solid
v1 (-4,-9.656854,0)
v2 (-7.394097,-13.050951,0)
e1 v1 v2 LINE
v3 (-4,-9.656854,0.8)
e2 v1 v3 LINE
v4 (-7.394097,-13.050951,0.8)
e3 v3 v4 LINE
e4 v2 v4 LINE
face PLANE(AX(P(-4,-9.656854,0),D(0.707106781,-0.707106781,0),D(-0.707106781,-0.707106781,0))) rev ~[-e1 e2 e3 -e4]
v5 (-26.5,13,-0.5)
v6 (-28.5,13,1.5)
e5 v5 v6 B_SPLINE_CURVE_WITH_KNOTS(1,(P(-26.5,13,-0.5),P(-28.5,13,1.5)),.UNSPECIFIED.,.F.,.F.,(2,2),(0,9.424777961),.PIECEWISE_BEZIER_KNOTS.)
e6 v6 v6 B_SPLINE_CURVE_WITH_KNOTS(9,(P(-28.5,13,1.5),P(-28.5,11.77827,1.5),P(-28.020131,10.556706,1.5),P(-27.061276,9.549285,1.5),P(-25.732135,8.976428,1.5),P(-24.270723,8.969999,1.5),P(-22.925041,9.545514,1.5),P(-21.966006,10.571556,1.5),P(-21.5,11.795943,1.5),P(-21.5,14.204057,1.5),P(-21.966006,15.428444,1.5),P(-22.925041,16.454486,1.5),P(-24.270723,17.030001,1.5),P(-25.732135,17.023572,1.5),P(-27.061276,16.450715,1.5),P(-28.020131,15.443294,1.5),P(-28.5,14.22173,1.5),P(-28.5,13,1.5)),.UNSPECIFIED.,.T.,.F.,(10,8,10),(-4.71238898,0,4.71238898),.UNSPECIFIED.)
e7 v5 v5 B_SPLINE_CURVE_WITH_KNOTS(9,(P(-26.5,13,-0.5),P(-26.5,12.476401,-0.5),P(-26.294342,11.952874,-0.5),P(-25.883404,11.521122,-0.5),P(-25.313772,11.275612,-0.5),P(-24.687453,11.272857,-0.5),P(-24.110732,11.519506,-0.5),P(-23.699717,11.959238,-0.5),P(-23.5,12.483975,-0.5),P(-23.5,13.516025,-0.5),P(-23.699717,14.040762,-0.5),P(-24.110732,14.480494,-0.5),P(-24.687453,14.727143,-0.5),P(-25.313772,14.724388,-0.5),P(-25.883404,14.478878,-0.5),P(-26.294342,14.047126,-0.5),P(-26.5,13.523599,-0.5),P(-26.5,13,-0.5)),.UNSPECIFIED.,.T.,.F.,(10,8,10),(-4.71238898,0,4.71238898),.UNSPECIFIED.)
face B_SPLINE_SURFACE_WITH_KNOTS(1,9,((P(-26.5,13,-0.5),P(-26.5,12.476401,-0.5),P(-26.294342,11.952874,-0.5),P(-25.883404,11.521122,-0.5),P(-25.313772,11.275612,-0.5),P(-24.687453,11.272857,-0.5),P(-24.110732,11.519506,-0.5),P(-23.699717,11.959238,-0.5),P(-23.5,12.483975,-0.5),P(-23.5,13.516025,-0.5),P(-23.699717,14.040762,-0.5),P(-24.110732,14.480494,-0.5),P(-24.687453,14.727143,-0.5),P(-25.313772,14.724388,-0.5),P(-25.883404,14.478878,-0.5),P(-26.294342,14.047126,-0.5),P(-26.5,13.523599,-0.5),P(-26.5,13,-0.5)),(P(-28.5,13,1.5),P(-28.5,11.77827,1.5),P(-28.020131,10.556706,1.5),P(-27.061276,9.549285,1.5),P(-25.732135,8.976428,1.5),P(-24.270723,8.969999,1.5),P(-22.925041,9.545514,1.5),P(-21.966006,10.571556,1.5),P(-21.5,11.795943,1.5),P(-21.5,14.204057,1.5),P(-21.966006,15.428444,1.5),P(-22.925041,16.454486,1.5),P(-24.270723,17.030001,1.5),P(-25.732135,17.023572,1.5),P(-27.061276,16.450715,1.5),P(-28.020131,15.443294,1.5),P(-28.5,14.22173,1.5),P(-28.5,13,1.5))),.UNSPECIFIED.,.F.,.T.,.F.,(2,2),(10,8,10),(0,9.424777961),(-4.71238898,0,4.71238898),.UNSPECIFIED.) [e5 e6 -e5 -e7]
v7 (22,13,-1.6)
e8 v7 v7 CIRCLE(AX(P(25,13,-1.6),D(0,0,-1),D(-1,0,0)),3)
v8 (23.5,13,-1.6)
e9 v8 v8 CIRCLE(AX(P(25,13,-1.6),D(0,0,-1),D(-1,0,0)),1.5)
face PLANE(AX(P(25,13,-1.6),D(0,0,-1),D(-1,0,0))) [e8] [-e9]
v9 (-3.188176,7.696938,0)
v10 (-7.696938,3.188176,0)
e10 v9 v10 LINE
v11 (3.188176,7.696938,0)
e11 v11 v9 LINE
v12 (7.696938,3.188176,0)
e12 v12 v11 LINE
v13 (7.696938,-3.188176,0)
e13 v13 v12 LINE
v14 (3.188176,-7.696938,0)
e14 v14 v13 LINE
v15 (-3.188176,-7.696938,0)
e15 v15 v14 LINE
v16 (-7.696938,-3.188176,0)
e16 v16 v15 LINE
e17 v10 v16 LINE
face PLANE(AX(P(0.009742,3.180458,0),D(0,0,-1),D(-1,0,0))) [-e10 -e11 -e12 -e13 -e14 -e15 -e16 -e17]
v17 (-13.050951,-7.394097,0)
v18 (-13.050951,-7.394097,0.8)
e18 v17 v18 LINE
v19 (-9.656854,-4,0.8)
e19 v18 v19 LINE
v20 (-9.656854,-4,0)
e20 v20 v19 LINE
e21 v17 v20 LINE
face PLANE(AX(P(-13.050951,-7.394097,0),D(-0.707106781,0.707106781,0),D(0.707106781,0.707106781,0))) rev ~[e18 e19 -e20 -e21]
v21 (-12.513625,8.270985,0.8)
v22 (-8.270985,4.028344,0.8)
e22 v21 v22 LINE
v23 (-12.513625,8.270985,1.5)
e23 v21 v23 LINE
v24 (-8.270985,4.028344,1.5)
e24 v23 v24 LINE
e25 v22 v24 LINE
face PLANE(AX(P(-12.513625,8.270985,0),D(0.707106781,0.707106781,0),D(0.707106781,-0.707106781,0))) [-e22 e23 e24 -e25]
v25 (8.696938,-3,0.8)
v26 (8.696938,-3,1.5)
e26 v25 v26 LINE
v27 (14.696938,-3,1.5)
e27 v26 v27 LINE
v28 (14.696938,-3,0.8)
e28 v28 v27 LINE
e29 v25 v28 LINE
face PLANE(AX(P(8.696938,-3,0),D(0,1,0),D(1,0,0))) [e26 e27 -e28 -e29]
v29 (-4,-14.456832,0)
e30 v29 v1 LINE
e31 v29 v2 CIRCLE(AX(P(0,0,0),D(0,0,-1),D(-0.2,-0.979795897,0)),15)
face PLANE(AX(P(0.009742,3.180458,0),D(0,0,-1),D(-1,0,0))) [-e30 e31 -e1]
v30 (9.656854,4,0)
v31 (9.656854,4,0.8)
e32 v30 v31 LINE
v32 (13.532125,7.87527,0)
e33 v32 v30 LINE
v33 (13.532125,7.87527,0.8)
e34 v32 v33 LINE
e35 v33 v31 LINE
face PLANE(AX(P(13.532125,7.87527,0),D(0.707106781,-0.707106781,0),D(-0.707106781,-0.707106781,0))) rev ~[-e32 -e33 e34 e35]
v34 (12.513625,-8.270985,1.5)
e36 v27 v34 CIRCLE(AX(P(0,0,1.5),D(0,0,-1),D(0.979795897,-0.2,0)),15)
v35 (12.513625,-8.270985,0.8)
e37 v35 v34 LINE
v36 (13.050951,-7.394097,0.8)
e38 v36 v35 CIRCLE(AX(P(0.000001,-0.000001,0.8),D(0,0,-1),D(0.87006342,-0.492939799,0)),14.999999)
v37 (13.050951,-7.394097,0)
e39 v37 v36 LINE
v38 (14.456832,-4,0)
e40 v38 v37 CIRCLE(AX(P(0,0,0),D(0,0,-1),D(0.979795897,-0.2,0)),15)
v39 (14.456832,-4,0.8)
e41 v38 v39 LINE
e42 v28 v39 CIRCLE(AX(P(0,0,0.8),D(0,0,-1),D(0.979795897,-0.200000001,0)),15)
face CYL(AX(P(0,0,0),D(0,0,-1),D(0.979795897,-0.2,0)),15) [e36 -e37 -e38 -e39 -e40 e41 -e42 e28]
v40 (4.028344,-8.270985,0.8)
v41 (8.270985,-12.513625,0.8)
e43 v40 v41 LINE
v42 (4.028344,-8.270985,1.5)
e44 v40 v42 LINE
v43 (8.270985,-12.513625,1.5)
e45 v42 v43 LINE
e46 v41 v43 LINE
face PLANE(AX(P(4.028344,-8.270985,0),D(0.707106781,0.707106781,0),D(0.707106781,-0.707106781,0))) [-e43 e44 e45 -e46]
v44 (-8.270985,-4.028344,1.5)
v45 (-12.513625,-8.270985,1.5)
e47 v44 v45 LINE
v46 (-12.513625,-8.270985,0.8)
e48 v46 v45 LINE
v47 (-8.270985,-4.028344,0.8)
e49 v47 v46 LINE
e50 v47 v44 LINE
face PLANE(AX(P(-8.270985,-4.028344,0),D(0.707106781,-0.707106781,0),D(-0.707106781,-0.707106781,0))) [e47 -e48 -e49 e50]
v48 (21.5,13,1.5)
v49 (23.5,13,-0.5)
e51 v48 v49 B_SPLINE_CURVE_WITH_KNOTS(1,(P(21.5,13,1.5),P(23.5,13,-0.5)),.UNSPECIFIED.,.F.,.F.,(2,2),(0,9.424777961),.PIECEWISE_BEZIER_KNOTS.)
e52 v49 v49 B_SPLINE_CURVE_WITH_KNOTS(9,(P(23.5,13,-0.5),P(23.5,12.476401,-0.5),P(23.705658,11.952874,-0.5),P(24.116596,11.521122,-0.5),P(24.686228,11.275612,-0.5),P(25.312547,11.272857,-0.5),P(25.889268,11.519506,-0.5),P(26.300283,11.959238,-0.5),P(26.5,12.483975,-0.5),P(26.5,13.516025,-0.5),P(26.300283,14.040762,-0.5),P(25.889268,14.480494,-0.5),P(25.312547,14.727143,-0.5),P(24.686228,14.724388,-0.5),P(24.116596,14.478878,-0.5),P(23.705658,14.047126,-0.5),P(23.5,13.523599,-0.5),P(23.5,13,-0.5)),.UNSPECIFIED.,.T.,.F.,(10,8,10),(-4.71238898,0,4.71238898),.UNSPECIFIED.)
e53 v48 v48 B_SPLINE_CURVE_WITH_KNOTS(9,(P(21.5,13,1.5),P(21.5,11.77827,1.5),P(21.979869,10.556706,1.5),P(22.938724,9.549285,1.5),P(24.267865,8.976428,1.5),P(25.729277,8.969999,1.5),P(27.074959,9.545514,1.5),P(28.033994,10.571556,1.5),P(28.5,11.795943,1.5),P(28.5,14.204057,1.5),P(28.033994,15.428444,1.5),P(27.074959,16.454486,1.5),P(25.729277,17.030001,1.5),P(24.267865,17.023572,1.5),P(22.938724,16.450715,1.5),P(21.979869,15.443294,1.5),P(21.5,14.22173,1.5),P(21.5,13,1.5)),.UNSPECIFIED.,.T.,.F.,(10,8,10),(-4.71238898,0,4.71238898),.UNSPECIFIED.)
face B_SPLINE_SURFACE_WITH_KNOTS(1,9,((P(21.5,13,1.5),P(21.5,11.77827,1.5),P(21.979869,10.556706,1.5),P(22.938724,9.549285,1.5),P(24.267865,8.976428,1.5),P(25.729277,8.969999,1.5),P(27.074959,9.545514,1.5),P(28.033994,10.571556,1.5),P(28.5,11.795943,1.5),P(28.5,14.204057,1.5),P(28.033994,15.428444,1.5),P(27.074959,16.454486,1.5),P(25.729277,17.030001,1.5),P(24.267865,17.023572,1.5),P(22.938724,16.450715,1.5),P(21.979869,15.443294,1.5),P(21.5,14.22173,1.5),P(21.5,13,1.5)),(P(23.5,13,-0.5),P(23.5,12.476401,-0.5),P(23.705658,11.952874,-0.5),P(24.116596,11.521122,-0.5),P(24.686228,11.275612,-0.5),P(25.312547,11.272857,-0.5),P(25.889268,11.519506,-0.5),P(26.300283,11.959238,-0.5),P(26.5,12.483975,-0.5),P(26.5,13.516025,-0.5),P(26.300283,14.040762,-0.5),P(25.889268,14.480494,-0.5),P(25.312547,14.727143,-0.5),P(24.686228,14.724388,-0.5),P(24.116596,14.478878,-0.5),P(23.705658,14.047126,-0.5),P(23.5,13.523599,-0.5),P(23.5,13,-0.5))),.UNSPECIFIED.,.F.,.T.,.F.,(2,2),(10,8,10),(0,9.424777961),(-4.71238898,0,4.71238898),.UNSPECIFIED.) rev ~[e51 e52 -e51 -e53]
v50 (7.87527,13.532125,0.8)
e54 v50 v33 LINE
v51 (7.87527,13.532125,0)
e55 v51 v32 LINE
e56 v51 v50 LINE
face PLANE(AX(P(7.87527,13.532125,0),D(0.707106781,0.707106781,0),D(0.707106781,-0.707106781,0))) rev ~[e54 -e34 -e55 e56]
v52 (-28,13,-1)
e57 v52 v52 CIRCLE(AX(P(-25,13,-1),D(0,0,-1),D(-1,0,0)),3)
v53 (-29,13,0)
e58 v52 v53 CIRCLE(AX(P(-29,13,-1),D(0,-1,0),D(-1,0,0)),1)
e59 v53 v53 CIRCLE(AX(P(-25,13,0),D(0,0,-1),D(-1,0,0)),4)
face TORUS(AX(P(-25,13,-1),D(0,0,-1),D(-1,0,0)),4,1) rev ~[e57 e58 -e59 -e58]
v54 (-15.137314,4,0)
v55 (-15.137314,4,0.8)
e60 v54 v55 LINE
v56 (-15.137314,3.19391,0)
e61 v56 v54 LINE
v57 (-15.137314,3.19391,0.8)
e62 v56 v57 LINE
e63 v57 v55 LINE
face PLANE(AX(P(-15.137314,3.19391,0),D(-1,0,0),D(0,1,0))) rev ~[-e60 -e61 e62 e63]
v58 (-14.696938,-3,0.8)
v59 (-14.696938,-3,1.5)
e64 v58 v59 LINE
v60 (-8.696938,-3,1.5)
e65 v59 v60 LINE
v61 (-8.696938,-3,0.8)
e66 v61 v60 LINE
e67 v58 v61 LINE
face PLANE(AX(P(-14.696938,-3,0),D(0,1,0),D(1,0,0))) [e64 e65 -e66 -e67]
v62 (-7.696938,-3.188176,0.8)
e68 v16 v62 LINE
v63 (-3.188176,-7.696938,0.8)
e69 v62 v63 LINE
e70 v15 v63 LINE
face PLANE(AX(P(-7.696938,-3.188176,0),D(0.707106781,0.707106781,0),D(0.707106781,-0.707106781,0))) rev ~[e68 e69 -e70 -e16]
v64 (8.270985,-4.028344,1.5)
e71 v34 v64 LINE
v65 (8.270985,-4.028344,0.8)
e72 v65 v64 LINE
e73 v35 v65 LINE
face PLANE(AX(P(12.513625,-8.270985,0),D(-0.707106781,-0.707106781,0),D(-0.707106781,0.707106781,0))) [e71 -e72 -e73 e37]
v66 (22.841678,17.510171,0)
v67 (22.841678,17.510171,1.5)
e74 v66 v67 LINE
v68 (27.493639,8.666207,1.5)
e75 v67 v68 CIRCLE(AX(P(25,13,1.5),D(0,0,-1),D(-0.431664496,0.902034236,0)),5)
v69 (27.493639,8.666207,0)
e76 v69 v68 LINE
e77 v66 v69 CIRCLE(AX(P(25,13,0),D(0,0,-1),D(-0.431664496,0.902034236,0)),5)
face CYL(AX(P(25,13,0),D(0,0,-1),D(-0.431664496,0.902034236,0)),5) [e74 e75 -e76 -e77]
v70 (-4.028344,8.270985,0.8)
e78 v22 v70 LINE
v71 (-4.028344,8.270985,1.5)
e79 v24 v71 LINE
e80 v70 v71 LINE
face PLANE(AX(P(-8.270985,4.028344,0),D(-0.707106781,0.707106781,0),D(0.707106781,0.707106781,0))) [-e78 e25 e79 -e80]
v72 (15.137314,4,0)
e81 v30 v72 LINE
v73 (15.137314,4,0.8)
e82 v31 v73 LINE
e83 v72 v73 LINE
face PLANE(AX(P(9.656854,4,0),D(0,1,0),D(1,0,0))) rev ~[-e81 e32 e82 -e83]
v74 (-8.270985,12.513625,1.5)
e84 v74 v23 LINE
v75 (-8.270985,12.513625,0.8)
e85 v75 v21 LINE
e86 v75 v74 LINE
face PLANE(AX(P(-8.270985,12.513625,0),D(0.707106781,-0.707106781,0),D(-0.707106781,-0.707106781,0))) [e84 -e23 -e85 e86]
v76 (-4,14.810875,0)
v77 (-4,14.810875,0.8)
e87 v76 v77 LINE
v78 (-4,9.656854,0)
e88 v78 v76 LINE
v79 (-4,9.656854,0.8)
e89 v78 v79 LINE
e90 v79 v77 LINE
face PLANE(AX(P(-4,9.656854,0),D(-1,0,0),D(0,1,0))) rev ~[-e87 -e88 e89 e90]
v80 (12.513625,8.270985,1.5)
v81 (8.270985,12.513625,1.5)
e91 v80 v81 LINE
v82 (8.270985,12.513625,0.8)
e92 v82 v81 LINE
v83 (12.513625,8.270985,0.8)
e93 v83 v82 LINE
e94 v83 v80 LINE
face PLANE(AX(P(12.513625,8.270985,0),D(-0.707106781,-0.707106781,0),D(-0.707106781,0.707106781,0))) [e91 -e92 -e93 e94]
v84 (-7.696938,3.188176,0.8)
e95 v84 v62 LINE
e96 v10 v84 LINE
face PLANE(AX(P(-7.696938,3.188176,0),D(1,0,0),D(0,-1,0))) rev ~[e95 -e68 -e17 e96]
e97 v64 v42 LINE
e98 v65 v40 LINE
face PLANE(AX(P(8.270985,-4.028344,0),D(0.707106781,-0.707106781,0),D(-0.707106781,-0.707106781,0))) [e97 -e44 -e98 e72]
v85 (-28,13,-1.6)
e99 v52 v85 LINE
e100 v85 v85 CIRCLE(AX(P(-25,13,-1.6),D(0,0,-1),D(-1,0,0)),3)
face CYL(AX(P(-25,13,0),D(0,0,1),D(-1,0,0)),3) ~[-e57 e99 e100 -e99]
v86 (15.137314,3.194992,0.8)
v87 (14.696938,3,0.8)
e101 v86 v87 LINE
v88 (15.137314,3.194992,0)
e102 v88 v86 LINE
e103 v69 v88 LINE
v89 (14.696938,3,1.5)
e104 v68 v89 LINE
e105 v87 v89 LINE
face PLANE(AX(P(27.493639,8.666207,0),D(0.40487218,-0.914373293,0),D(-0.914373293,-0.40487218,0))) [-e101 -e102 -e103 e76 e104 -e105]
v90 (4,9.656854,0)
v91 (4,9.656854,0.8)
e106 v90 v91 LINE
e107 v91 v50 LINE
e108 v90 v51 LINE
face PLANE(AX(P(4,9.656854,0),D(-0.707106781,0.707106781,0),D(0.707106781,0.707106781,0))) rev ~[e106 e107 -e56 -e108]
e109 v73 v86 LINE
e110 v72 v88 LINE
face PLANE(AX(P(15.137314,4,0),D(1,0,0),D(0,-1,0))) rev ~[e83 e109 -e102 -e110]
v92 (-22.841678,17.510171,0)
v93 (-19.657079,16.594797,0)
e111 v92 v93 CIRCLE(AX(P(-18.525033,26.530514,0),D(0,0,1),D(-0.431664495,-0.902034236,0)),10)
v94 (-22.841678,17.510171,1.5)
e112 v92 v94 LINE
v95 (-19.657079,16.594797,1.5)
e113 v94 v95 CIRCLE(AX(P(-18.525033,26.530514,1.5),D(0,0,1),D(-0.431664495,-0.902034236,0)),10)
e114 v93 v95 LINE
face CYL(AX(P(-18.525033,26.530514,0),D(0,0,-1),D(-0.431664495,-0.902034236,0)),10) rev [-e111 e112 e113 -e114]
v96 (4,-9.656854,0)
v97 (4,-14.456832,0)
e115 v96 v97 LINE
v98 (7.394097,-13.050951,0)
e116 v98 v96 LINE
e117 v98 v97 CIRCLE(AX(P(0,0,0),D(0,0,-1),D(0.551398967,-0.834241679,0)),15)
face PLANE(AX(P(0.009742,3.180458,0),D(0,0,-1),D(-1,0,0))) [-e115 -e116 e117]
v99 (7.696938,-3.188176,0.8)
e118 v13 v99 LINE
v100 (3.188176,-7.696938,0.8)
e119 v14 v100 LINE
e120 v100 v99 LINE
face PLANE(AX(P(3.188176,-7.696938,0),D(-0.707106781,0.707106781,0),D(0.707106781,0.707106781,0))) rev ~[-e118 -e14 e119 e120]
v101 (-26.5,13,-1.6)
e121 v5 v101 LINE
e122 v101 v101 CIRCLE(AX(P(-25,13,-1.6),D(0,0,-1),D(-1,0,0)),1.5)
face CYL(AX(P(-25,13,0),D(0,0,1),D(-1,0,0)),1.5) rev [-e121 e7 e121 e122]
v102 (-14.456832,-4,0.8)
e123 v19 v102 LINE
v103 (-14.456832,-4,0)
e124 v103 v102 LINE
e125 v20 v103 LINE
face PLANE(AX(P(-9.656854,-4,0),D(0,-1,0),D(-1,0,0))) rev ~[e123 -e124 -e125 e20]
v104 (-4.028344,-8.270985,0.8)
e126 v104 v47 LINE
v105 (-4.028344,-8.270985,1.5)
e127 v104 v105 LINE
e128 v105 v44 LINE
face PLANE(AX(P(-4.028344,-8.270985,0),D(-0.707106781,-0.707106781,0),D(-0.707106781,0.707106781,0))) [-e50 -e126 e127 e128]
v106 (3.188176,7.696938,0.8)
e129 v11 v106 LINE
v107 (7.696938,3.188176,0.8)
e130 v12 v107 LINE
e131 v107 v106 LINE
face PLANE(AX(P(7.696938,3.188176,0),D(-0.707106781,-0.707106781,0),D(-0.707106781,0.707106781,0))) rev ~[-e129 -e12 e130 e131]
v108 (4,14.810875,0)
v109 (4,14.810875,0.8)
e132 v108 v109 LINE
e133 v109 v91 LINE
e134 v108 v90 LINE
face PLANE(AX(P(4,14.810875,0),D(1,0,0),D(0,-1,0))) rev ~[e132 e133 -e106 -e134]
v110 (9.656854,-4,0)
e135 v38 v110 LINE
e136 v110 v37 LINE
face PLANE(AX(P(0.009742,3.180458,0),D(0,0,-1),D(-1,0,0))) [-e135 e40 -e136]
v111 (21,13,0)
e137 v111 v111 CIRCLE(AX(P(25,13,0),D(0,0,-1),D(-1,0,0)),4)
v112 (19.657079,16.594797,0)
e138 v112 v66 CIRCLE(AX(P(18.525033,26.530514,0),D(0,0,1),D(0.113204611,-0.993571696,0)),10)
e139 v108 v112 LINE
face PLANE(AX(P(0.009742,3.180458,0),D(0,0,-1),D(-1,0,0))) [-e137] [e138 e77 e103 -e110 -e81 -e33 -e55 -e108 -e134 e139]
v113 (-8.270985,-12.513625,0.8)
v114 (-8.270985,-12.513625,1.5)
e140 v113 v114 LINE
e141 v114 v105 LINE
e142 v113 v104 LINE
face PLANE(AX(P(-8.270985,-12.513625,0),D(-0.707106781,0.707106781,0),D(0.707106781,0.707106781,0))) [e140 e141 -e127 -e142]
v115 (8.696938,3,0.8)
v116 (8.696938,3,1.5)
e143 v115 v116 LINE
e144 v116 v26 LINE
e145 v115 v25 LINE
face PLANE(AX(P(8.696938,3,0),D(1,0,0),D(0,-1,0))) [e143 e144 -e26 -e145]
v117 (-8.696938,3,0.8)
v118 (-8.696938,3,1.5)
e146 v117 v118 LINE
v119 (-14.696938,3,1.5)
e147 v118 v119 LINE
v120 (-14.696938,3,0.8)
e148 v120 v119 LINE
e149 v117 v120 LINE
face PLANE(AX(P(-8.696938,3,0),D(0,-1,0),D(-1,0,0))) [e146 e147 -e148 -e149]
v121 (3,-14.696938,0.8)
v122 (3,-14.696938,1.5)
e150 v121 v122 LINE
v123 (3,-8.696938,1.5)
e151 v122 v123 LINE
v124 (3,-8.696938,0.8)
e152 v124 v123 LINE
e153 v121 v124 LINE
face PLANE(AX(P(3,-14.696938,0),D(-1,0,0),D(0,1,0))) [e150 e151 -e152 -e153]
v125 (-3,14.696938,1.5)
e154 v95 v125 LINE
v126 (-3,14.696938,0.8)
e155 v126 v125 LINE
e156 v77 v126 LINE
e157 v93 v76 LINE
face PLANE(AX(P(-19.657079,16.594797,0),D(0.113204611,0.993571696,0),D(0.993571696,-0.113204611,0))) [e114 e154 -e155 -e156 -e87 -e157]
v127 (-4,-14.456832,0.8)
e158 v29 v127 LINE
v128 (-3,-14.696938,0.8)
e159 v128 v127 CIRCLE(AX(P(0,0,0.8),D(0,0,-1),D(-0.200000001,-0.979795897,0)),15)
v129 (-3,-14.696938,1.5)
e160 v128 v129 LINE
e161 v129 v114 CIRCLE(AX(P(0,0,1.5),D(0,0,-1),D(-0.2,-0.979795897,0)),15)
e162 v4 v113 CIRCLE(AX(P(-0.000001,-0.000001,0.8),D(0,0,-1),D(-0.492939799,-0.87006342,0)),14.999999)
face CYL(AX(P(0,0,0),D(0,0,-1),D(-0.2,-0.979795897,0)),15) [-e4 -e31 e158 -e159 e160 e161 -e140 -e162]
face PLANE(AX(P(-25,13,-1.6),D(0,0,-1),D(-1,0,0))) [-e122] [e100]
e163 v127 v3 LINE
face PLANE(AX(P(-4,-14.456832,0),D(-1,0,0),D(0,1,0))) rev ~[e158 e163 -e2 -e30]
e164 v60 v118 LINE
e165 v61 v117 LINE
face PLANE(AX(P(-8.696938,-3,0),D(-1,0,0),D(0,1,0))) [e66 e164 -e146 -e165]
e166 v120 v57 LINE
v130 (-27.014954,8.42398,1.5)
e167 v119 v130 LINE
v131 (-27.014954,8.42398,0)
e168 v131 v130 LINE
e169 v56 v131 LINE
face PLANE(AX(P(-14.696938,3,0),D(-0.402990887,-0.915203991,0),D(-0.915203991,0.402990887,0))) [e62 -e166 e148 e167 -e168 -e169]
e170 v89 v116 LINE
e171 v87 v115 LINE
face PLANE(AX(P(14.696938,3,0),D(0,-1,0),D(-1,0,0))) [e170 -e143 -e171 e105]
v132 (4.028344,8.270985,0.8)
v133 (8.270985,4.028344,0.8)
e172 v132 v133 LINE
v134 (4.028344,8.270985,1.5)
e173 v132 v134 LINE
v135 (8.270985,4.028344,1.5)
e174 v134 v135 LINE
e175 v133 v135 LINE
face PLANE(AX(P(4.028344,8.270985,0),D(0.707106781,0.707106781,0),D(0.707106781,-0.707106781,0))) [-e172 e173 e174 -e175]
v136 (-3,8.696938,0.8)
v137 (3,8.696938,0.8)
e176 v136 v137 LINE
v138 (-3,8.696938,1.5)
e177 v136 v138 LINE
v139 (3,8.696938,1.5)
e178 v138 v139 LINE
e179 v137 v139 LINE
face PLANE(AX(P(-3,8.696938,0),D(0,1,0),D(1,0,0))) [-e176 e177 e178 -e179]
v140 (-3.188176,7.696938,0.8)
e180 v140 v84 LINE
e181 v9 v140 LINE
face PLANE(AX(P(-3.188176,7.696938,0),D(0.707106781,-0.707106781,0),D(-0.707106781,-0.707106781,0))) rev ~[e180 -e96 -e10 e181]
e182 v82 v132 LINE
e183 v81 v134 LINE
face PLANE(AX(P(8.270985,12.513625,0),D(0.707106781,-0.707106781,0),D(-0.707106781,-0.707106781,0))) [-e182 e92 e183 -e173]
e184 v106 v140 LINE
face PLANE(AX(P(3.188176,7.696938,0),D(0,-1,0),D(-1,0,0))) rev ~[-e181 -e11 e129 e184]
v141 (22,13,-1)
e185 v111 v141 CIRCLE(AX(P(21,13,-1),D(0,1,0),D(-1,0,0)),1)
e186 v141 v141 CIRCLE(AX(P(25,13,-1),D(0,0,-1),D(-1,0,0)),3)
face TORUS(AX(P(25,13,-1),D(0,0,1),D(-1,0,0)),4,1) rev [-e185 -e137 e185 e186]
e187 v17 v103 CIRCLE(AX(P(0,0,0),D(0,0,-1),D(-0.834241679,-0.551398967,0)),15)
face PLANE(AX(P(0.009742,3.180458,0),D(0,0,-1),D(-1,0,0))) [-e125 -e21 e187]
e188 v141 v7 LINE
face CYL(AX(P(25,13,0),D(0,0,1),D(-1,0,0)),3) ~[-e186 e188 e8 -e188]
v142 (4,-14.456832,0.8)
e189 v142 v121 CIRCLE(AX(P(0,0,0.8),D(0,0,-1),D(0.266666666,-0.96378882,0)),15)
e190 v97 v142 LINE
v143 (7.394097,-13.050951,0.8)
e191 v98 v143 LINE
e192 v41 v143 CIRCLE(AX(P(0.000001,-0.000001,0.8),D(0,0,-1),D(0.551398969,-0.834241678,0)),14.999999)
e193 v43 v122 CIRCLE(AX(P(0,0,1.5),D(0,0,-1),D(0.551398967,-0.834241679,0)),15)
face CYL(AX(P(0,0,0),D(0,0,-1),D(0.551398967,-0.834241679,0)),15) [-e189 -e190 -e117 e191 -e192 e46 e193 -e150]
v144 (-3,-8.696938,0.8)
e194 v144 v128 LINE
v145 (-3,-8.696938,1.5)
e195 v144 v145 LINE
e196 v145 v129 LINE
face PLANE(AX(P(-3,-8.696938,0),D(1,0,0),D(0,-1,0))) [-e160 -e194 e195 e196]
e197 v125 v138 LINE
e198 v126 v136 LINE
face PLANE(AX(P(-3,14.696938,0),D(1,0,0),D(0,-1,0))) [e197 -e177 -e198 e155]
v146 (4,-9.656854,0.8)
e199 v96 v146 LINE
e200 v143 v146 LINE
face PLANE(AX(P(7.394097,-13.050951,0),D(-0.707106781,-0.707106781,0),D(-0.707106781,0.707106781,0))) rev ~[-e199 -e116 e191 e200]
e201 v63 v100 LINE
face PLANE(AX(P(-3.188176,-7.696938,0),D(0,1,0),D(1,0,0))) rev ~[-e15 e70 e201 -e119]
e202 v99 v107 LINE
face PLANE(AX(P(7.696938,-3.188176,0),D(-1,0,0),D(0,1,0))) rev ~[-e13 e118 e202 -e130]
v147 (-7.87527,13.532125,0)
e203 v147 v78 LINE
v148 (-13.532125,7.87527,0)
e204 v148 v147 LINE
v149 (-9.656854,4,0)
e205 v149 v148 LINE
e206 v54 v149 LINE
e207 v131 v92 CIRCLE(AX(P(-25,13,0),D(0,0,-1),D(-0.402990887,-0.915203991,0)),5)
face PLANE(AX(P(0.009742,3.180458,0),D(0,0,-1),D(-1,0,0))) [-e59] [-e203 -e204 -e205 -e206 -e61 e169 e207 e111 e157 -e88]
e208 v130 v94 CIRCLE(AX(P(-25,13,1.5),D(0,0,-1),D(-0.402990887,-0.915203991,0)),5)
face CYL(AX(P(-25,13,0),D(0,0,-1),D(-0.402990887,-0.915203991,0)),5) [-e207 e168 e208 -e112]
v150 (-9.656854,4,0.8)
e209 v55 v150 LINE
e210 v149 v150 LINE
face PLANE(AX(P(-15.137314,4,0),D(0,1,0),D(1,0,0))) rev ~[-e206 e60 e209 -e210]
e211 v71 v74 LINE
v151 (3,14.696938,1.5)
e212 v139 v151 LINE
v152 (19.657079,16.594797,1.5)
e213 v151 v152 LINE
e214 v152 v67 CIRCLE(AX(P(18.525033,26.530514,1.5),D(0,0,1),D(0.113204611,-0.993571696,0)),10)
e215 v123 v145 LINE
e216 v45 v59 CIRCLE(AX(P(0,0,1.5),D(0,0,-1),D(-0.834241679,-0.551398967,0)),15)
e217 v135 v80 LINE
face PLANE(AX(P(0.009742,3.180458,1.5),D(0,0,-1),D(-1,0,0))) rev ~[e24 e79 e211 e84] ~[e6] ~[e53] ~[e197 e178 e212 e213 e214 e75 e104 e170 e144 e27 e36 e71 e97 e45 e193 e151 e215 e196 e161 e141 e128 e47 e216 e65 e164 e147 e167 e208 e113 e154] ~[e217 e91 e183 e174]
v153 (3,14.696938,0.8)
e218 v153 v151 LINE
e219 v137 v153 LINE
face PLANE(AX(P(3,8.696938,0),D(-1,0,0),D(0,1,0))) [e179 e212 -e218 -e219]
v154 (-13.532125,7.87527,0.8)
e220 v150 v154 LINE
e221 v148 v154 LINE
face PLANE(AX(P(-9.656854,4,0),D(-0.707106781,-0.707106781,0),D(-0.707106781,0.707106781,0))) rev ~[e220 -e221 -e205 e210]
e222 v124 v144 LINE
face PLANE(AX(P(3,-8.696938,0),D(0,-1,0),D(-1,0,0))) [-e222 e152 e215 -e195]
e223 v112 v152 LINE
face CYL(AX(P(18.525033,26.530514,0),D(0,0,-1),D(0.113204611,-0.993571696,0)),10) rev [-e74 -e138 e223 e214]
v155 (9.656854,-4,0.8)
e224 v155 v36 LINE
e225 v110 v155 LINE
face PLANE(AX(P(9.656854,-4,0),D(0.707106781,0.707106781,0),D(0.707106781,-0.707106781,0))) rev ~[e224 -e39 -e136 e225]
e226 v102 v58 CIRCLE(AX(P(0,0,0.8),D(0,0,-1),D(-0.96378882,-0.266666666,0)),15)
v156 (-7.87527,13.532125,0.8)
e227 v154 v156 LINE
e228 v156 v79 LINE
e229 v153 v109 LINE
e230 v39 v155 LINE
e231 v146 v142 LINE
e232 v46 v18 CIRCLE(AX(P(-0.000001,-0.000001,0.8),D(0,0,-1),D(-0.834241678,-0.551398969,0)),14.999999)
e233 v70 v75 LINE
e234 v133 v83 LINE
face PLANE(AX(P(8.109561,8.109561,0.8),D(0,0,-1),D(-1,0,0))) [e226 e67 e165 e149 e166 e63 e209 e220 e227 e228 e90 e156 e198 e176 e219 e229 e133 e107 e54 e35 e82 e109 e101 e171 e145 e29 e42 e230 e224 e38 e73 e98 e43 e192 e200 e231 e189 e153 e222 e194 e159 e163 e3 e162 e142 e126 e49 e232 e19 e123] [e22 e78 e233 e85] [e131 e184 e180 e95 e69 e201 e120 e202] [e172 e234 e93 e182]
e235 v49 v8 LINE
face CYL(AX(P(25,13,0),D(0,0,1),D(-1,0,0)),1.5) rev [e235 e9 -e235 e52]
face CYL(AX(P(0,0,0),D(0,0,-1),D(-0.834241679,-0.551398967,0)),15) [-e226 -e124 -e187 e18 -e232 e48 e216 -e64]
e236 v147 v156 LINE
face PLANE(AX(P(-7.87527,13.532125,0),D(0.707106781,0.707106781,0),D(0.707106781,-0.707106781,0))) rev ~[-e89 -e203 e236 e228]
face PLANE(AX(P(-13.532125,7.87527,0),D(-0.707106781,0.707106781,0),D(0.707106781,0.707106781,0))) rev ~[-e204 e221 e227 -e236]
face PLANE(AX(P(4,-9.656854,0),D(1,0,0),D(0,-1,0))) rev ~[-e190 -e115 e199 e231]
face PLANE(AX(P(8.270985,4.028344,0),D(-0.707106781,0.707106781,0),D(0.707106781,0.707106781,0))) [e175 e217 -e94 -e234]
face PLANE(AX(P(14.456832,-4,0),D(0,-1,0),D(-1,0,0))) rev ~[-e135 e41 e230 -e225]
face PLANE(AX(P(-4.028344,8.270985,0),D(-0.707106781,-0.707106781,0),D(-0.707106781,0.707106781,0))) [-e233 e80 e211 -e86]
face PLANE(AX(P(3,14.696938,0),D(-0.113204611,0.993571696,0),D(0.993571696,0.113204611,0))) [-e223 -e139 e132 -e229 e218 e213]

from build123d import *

# Parameters (mm, degrees)
SKETCH_1_R          = 1.5
EXTRUDE_1_DEPTH     = 1.5
CUT_EXTRUDE_2_DEPTH = 0.8
SKETCH_4_R          = 3
SKETCH_4_R_2        = 1.5
EXTRUDE_2_DEPTH     = 1.6
FILLET_1_R          = 1
CHAMFER_1_SIZE      = 2


with BuildPart() as part:
    # Эскиз1 → Бобышка-Вытянуть1 (new body)
    with BuildSketch(Plane.XY):
        with BuildLine():
            Line((-3, 14.696938457), (-3, 8.696938457))
            Line((-3, 8.696938457), (3, 8.696938457))
            Line((3, 8.696938457), (3, 14.696938457))
            Line((3, 14.696938457), (19.657078674, 16.594796577))
            ThreePointArc((19.657078674, 16.594796577), (21.287556094, 16.919662188), (22.841677521, 17.51017118))
            ThreePointArc((22.841677521, 17.51017118), (29.425159504, 15.327651899), (27.493638863, 8.666206601))
            Line((27.493638863, 8.666206601), (14.696938457, 3))
            Line((14.696938457, 3), (8.696938457, 3))
            Line((8.696938457, 3), (8.696938457, -3))
            Line((8.696938457, -3), (14.696938457, -3))
            ThreePointArc((14.696938457, -3), (13.858192988, -5.740251485), (12.513625189, -8.270984502))
            Line((12.513625189, -8.270984502), (8.270984502, -4.028343815))
            Line((8.270984502, -4.028343815), (4.028343815, -8.270984502))
            Line((4.028343815, -8.270984502), (8.270984502, -12.513625189))
            ThreePointArc((8.270984502, -12.513625189), (5.740251485, -13.858192988), (3, -14.696938457))
            Line((3, -14.696938457), (3, -8.696938457))
            Line((3, -8.696938457), (-3, -8.696938457))
            Line((-3, -8.696938457), (-3, -14.696938457))
            ThreePointArc((-3, -14.696938457), (-5.740251485, -13.858192988), (-8.270984502, -12.513625189))
            Line((-8.270984502, -12.513625189), (-4.028343815, -8.270984502))
            Line((-4.028343815, -8.270984502), (-8.270984502, -4.028343815))
            Line((-8.270984502, -4.028343815), (-12.513625189, -8.270984502))
            ThreePointArc((-12.513625189, -8.270984502), (-13.858192988, -5.740251485), (-14.696938457, -3))
            Line((-14.696938457, -3), (-8.696938457, -3))
            Line((-8.696938457, -3), (-8.696938457, 3))
            Line((-8.696938457, 3), (-14.696938457, 3))
            Line((-14.696938457, 3), (-27.014954435, 8.423980045))
            ThreePointArc((-27.014954435, 8.423980045), (-29.543661072, 15.086898192), (-22.841677521, 17.51017118))
            ThreePointArc((-22.841677521, 17.51017118), (-21.287556094, 16.919662188), (-19.657078674, 16.594796577))
            Line((-19.657078674, 16.594796577), (-3, 14.696938457))
        make_face()
        with Locations((-25, 13)):
            Circle(SKETCH_1_R, mode=Mode.SUBTRACT)
        with Locations((25, 13)):
            Circle(SKETCH_1_R, mode=Mode.SUBTRACT)
        Polygon((4.028343815, 8.270984502), (8.270984502, 4.028343815), (12.513625189, 8.270984502), (8.270984502, 12.513625189), align=None, mode=Mode.SUBTRACT)
        Polygon((-8.270984502, 4.028343815), (-4.028343815, 8.270984502), (-8.270984502, 12.513625189), (-12.513625189, 8.270984502), align=None, mode=Mode.SUBTRACT)
    extrude(amount=EXTRUDE_1_DEPTH)

    # Эскиз3 → Вырез-Вытянуть2 (cut)
    with BuildSketch(Plane(origin=(0, 0, 0), x_dir=(-1, 0, 0), z_dir=(0, 0, -1))):
        Polygon((-4, 7.696938457), (-4, 9.656854249), (-7.87527044, 13.53212469), (-13.53212469, 7.87527044), (-9.656854249, 4), (-7.696938457, 4), (-7.696938457, 3.188176298), (-3.188176298, 7.696938457), align=None)
        Polygon((-8.270984502, 4.028343815), (-12.513625189, 8.270984502), (-8.270984502, 12.513625189), (-4.028343815, 8.270984502), align=None, mode=Mode.SUBTRACT)
        Polygon((-2.614130252, 8.270984502), (-4, 9.656854249), (-4, 7.696938457), (-3.188176298, 7.696938457), align=None)
        Polygon((-3, 14.696938457), (-4, 14.81087549), (-4, 9.656854249), (-2.614130252, 8.270984502), (-3.188176298, 7.696938457), (3.188176298, 7.696938457), (2.614130252, 8.270984502), (4, 9.656854249), (4, 14.81087549), (3, 14.696938457), (3, 8.696938457), (-3, 8.696938457), align=None)
        Polygon((4, 7.696938457), (4, 9.656854249), (2.614130252, 8.270984502), (3.188176298, 7.696938457), align=None)
        Polygon((7.87527044, 13.53212469), (4, 9.656854249), (4, 7.696938457), (3.188176298, 7.696938457), (7.696938457, 3.188176298), (7.696938457, 4), (9.656854249, 4), (13.53212469, 7.87527044), align=None)
        Polygon((4.028343815, 8.270984502), (8.270984502, 12.513625189), (12.513625189, 8.270984502), (8.270984502, 4.028343815), align=None, mode=Mode.SUBTRACT)
        Polygon((7.696938457, 4), (7.696938457, 3.188176298), (8.270984502, 2.614130252), (9.656854249, 4), align=None)
        with BuildLine():
            Line((8.270984502, 2.614130252), (7.696938457, 3.188176298))
            Line((7.696938457, 3.188176298), (7.696938457, -3.188176298))
            Line((7.696938457, -3.188176298), (8.270984502, -2.614130252))
            Line((8.270984502, -2.614130252), (9.656854249, -4))
            Line((9.656854249, -4), (14.456832295, -4))
            ThreePointArc((14.456832295, -4), (14.585458075, -3.502058358), (14.696938457, -3))
            Line((14.696938457, -3), (8.696938457, -3))
            Line((8.696938457, -3), (8.696938457, 3))
            Line((8.696938457, 3), (14.696938457, 3))
            Line((14.696938457, 3), (15.137314264, 3.193910253))
            Line((15.137314264, 3.193910253), (15.137314264, 4))
            Line((15.137314264, 4), (9.656854249, 4))
            Line((9.656854249, 4), (8.270984502, 2.614130252))
        make_face()
        Polygon((8.270984502, -2.614130252), (7.696938457, -3.188176298), (7.696938457, -4), (9.656854249, -4), align=None)
        with BuildLine():
            Line((7.696938457, -4), (7.696938457, -3.188176298))
            Line((7.696938457, -3.188176298), (3.188176298, -7.696938457))
            Line((3.188176298, -7.696938457), (4, -7.696938457))
            Line((4, -7.696938457), (4, -9.656854249))
            Line((4, -9.656854249), (7.394097025, -13.050951275))
            ThreePointArc((7.394097025, -13.050951275), (7.837147099, -12.789805525), (8.270984502, -12.513625189))
            Line((8.270984502, -12.513625189), (4.028343815, -8.270984502))
            Line((4.028343815, -8.270984502), (8.270984502, -4.028343815))
            Line((8.270984502, -4.028343815), (12.513625189, -8.270984502))
            ThreePointArc((12.513625189, -8.270984502), (12.789805525, -7.837147099), (13.050951275, -7.394097025))
            Line((13.050951275, -7.394097025), (9.656854249, -4))
            Line((9.656854249, -4), (7.696938457, -4))
        make_face()
        with BuildLine():
            Line((3.188176298, -7.696938457), (-3.188176298, -7.696938457))
            Line((-3.188176298, -7.696938457), (-2.614130252, -8.270984502))
            Line((-2.614130252, -8.270984502), (-4, -9.656854249))
            Line((-4, -9.656854249), (-4, -14.456832295))
            ThreePointArc((-4, -14.456832295), (-3.502058358, -14.585458075), (-3, -14.696938457))
            Line((-3, -14.696938457), (-3, -8.696938457))
            Line((-3, -8.696938457), (3, -8.696938457))
            Line((3, -8.696938457), (3, -14.696938457))
            ThreePointArc((3, -14.696938457), (3.502058358, -14.585458075), (4, -14.456832295))
            Line((4, -14.456832295), (4, -9.656854249))
            Line((4, -9.656854249), (2.614130252, -8.270984502))
            Line((2.614130252, -8.270984502), (3.188176298, -7.696938457))
        make_face()
        Polygon((4, -7.696938457), (3.188176298, -7.696938457), (2.614130252, -8.270984502), (4, -9.656854249), align=None)
        Polygon((-2.614130252, -8.270984502), (-3.188176298, -7.696938457), (-4, -7.696938457), (-4, -9.656854249), align=None)
        with BuildLine():
            Line((-3.188176298, -7.696938457), (-7.696938457, -3.188176298))
            Line((-7.696938457, -3.188176298), (-7.696938457, -4))
            Line((-7.696938457, -4), (-9.656854249, -4))
            Line((-9.656854249, -4), (-13.050951275, -7.394097025))
            ThreePointArc((-13.050951275, -7.394097025), (-12.789805525, -7.837147099), (-12.513625189, -8.270984502))
            Line((-12.513625189, -8.270984502), (-8.270984502, -4.028343815))
            Line((-8.270984502, -4.028343815), (-4.028343815, -8.270984502))
            Line((-4.028343815, -8.270984502), (-8.270984502, -12.513625189))
            ThreePointArc((-8.270984502, -12.513625189), (-7.837147099, -12.789805525), (-7.394097025, -13.050951275))
            Line((-7.394097025, -13.050951275), (-4, -9.656854249))
            Line((-4, -9.656854249), (-4, -7.696938457))
            Line((-4, -7.696938457), (-3.188176298, -7.696938457))
        make_face()
        Polygon((-7.696938457, -4), (-7.696938457, -3.188176298), (-8.270984502, -2.614130252), (-9.656854249, -4), align=None)
        with BuildLine():
            Line((-7.696938457, -3.188176298), (-7.696938457, 3.188176298))
            Line((-7.696938457, 3.188176298), (-8.270984502, 2.614130252))
            Line((-8.270984502, 2.614130252), (-9.656854249, 4))
            Line((-9.656854249, 4), (-15.137314264, 4))
            Line((-15.137314264, 4), (-15.137314264, 3.194992477))
            Line((-15.137314264, 3.194992477), (-14.696938457, 3))
            Line((-14.696938457, 3), (-8.696938457, 3))
            Line((-8.696938457, 3), (-8.696938457, -3))
            Line((-8.696938457, -3), (-14.696938457, -3))
            ThreePointArc((-14.696938457, -3), (-14.585458075, -3.502058358), (-14.456832295, -4))
            Line((-14.456832295, -4), (-9.656854249, -4))
            Line((-9.656854249, -4), (-8.270984502, -2.614130252))
            Line((-8.270984502, -2.614130252), (-7.696938457, -3.188176298))
        make_face()
        Polygon((-8.270984502, 2.614130252), (-7.696938457, 3.188176298), (-7.696938457, 4), (-9.656854249, 4), align=None)
    extrude(amount=-CUT_EXTRUDE_2_DEPTH, mode=Mode.SUBTRACT)

    # Эскиз4 → Бобышка-Вытянуть2 (add)
    with BuildSketch(Plane(origin=(0, 0, 0), x_dir=(-1, 0, 0), z_dir=(0, 0, -1))):
        with Locations((25, 13)):
            Circle(SKETCH_4_R)
        with Locations((25, 13)):
            Circle(SKETCH_4_R_2, mode=Mode.SUBTRACT)
        with Locations((-25, 13)):
            Circle(SKETCH_4_R)
        with Locations((-25, 13)):
            Circle(SKETCH_4_R_2, mode=Mode.SUBTRACT)
    extrude(amount=EXTRUDE_2_DEPTH)

    # Скругление1
    fillet_1_edges = [part.edges().sort_by_distance(p)[0] for p in [
        (-22, 13, 0),
        (28, 13, 0),
    ]]
    fillet(fillet_1_edges, radius=FILLET_1_R)

    # Фаска1
    chamfer_1_edges = [part.edges().sort_by_distance(p)[0] for p in [
        (-26.5, 13, 1.5),
        (23.5, 13, 1.5),
    ]]
    chamfer(chamfer_1_edges, length=CHAMFER_1_SIZE)


solid = part.part
